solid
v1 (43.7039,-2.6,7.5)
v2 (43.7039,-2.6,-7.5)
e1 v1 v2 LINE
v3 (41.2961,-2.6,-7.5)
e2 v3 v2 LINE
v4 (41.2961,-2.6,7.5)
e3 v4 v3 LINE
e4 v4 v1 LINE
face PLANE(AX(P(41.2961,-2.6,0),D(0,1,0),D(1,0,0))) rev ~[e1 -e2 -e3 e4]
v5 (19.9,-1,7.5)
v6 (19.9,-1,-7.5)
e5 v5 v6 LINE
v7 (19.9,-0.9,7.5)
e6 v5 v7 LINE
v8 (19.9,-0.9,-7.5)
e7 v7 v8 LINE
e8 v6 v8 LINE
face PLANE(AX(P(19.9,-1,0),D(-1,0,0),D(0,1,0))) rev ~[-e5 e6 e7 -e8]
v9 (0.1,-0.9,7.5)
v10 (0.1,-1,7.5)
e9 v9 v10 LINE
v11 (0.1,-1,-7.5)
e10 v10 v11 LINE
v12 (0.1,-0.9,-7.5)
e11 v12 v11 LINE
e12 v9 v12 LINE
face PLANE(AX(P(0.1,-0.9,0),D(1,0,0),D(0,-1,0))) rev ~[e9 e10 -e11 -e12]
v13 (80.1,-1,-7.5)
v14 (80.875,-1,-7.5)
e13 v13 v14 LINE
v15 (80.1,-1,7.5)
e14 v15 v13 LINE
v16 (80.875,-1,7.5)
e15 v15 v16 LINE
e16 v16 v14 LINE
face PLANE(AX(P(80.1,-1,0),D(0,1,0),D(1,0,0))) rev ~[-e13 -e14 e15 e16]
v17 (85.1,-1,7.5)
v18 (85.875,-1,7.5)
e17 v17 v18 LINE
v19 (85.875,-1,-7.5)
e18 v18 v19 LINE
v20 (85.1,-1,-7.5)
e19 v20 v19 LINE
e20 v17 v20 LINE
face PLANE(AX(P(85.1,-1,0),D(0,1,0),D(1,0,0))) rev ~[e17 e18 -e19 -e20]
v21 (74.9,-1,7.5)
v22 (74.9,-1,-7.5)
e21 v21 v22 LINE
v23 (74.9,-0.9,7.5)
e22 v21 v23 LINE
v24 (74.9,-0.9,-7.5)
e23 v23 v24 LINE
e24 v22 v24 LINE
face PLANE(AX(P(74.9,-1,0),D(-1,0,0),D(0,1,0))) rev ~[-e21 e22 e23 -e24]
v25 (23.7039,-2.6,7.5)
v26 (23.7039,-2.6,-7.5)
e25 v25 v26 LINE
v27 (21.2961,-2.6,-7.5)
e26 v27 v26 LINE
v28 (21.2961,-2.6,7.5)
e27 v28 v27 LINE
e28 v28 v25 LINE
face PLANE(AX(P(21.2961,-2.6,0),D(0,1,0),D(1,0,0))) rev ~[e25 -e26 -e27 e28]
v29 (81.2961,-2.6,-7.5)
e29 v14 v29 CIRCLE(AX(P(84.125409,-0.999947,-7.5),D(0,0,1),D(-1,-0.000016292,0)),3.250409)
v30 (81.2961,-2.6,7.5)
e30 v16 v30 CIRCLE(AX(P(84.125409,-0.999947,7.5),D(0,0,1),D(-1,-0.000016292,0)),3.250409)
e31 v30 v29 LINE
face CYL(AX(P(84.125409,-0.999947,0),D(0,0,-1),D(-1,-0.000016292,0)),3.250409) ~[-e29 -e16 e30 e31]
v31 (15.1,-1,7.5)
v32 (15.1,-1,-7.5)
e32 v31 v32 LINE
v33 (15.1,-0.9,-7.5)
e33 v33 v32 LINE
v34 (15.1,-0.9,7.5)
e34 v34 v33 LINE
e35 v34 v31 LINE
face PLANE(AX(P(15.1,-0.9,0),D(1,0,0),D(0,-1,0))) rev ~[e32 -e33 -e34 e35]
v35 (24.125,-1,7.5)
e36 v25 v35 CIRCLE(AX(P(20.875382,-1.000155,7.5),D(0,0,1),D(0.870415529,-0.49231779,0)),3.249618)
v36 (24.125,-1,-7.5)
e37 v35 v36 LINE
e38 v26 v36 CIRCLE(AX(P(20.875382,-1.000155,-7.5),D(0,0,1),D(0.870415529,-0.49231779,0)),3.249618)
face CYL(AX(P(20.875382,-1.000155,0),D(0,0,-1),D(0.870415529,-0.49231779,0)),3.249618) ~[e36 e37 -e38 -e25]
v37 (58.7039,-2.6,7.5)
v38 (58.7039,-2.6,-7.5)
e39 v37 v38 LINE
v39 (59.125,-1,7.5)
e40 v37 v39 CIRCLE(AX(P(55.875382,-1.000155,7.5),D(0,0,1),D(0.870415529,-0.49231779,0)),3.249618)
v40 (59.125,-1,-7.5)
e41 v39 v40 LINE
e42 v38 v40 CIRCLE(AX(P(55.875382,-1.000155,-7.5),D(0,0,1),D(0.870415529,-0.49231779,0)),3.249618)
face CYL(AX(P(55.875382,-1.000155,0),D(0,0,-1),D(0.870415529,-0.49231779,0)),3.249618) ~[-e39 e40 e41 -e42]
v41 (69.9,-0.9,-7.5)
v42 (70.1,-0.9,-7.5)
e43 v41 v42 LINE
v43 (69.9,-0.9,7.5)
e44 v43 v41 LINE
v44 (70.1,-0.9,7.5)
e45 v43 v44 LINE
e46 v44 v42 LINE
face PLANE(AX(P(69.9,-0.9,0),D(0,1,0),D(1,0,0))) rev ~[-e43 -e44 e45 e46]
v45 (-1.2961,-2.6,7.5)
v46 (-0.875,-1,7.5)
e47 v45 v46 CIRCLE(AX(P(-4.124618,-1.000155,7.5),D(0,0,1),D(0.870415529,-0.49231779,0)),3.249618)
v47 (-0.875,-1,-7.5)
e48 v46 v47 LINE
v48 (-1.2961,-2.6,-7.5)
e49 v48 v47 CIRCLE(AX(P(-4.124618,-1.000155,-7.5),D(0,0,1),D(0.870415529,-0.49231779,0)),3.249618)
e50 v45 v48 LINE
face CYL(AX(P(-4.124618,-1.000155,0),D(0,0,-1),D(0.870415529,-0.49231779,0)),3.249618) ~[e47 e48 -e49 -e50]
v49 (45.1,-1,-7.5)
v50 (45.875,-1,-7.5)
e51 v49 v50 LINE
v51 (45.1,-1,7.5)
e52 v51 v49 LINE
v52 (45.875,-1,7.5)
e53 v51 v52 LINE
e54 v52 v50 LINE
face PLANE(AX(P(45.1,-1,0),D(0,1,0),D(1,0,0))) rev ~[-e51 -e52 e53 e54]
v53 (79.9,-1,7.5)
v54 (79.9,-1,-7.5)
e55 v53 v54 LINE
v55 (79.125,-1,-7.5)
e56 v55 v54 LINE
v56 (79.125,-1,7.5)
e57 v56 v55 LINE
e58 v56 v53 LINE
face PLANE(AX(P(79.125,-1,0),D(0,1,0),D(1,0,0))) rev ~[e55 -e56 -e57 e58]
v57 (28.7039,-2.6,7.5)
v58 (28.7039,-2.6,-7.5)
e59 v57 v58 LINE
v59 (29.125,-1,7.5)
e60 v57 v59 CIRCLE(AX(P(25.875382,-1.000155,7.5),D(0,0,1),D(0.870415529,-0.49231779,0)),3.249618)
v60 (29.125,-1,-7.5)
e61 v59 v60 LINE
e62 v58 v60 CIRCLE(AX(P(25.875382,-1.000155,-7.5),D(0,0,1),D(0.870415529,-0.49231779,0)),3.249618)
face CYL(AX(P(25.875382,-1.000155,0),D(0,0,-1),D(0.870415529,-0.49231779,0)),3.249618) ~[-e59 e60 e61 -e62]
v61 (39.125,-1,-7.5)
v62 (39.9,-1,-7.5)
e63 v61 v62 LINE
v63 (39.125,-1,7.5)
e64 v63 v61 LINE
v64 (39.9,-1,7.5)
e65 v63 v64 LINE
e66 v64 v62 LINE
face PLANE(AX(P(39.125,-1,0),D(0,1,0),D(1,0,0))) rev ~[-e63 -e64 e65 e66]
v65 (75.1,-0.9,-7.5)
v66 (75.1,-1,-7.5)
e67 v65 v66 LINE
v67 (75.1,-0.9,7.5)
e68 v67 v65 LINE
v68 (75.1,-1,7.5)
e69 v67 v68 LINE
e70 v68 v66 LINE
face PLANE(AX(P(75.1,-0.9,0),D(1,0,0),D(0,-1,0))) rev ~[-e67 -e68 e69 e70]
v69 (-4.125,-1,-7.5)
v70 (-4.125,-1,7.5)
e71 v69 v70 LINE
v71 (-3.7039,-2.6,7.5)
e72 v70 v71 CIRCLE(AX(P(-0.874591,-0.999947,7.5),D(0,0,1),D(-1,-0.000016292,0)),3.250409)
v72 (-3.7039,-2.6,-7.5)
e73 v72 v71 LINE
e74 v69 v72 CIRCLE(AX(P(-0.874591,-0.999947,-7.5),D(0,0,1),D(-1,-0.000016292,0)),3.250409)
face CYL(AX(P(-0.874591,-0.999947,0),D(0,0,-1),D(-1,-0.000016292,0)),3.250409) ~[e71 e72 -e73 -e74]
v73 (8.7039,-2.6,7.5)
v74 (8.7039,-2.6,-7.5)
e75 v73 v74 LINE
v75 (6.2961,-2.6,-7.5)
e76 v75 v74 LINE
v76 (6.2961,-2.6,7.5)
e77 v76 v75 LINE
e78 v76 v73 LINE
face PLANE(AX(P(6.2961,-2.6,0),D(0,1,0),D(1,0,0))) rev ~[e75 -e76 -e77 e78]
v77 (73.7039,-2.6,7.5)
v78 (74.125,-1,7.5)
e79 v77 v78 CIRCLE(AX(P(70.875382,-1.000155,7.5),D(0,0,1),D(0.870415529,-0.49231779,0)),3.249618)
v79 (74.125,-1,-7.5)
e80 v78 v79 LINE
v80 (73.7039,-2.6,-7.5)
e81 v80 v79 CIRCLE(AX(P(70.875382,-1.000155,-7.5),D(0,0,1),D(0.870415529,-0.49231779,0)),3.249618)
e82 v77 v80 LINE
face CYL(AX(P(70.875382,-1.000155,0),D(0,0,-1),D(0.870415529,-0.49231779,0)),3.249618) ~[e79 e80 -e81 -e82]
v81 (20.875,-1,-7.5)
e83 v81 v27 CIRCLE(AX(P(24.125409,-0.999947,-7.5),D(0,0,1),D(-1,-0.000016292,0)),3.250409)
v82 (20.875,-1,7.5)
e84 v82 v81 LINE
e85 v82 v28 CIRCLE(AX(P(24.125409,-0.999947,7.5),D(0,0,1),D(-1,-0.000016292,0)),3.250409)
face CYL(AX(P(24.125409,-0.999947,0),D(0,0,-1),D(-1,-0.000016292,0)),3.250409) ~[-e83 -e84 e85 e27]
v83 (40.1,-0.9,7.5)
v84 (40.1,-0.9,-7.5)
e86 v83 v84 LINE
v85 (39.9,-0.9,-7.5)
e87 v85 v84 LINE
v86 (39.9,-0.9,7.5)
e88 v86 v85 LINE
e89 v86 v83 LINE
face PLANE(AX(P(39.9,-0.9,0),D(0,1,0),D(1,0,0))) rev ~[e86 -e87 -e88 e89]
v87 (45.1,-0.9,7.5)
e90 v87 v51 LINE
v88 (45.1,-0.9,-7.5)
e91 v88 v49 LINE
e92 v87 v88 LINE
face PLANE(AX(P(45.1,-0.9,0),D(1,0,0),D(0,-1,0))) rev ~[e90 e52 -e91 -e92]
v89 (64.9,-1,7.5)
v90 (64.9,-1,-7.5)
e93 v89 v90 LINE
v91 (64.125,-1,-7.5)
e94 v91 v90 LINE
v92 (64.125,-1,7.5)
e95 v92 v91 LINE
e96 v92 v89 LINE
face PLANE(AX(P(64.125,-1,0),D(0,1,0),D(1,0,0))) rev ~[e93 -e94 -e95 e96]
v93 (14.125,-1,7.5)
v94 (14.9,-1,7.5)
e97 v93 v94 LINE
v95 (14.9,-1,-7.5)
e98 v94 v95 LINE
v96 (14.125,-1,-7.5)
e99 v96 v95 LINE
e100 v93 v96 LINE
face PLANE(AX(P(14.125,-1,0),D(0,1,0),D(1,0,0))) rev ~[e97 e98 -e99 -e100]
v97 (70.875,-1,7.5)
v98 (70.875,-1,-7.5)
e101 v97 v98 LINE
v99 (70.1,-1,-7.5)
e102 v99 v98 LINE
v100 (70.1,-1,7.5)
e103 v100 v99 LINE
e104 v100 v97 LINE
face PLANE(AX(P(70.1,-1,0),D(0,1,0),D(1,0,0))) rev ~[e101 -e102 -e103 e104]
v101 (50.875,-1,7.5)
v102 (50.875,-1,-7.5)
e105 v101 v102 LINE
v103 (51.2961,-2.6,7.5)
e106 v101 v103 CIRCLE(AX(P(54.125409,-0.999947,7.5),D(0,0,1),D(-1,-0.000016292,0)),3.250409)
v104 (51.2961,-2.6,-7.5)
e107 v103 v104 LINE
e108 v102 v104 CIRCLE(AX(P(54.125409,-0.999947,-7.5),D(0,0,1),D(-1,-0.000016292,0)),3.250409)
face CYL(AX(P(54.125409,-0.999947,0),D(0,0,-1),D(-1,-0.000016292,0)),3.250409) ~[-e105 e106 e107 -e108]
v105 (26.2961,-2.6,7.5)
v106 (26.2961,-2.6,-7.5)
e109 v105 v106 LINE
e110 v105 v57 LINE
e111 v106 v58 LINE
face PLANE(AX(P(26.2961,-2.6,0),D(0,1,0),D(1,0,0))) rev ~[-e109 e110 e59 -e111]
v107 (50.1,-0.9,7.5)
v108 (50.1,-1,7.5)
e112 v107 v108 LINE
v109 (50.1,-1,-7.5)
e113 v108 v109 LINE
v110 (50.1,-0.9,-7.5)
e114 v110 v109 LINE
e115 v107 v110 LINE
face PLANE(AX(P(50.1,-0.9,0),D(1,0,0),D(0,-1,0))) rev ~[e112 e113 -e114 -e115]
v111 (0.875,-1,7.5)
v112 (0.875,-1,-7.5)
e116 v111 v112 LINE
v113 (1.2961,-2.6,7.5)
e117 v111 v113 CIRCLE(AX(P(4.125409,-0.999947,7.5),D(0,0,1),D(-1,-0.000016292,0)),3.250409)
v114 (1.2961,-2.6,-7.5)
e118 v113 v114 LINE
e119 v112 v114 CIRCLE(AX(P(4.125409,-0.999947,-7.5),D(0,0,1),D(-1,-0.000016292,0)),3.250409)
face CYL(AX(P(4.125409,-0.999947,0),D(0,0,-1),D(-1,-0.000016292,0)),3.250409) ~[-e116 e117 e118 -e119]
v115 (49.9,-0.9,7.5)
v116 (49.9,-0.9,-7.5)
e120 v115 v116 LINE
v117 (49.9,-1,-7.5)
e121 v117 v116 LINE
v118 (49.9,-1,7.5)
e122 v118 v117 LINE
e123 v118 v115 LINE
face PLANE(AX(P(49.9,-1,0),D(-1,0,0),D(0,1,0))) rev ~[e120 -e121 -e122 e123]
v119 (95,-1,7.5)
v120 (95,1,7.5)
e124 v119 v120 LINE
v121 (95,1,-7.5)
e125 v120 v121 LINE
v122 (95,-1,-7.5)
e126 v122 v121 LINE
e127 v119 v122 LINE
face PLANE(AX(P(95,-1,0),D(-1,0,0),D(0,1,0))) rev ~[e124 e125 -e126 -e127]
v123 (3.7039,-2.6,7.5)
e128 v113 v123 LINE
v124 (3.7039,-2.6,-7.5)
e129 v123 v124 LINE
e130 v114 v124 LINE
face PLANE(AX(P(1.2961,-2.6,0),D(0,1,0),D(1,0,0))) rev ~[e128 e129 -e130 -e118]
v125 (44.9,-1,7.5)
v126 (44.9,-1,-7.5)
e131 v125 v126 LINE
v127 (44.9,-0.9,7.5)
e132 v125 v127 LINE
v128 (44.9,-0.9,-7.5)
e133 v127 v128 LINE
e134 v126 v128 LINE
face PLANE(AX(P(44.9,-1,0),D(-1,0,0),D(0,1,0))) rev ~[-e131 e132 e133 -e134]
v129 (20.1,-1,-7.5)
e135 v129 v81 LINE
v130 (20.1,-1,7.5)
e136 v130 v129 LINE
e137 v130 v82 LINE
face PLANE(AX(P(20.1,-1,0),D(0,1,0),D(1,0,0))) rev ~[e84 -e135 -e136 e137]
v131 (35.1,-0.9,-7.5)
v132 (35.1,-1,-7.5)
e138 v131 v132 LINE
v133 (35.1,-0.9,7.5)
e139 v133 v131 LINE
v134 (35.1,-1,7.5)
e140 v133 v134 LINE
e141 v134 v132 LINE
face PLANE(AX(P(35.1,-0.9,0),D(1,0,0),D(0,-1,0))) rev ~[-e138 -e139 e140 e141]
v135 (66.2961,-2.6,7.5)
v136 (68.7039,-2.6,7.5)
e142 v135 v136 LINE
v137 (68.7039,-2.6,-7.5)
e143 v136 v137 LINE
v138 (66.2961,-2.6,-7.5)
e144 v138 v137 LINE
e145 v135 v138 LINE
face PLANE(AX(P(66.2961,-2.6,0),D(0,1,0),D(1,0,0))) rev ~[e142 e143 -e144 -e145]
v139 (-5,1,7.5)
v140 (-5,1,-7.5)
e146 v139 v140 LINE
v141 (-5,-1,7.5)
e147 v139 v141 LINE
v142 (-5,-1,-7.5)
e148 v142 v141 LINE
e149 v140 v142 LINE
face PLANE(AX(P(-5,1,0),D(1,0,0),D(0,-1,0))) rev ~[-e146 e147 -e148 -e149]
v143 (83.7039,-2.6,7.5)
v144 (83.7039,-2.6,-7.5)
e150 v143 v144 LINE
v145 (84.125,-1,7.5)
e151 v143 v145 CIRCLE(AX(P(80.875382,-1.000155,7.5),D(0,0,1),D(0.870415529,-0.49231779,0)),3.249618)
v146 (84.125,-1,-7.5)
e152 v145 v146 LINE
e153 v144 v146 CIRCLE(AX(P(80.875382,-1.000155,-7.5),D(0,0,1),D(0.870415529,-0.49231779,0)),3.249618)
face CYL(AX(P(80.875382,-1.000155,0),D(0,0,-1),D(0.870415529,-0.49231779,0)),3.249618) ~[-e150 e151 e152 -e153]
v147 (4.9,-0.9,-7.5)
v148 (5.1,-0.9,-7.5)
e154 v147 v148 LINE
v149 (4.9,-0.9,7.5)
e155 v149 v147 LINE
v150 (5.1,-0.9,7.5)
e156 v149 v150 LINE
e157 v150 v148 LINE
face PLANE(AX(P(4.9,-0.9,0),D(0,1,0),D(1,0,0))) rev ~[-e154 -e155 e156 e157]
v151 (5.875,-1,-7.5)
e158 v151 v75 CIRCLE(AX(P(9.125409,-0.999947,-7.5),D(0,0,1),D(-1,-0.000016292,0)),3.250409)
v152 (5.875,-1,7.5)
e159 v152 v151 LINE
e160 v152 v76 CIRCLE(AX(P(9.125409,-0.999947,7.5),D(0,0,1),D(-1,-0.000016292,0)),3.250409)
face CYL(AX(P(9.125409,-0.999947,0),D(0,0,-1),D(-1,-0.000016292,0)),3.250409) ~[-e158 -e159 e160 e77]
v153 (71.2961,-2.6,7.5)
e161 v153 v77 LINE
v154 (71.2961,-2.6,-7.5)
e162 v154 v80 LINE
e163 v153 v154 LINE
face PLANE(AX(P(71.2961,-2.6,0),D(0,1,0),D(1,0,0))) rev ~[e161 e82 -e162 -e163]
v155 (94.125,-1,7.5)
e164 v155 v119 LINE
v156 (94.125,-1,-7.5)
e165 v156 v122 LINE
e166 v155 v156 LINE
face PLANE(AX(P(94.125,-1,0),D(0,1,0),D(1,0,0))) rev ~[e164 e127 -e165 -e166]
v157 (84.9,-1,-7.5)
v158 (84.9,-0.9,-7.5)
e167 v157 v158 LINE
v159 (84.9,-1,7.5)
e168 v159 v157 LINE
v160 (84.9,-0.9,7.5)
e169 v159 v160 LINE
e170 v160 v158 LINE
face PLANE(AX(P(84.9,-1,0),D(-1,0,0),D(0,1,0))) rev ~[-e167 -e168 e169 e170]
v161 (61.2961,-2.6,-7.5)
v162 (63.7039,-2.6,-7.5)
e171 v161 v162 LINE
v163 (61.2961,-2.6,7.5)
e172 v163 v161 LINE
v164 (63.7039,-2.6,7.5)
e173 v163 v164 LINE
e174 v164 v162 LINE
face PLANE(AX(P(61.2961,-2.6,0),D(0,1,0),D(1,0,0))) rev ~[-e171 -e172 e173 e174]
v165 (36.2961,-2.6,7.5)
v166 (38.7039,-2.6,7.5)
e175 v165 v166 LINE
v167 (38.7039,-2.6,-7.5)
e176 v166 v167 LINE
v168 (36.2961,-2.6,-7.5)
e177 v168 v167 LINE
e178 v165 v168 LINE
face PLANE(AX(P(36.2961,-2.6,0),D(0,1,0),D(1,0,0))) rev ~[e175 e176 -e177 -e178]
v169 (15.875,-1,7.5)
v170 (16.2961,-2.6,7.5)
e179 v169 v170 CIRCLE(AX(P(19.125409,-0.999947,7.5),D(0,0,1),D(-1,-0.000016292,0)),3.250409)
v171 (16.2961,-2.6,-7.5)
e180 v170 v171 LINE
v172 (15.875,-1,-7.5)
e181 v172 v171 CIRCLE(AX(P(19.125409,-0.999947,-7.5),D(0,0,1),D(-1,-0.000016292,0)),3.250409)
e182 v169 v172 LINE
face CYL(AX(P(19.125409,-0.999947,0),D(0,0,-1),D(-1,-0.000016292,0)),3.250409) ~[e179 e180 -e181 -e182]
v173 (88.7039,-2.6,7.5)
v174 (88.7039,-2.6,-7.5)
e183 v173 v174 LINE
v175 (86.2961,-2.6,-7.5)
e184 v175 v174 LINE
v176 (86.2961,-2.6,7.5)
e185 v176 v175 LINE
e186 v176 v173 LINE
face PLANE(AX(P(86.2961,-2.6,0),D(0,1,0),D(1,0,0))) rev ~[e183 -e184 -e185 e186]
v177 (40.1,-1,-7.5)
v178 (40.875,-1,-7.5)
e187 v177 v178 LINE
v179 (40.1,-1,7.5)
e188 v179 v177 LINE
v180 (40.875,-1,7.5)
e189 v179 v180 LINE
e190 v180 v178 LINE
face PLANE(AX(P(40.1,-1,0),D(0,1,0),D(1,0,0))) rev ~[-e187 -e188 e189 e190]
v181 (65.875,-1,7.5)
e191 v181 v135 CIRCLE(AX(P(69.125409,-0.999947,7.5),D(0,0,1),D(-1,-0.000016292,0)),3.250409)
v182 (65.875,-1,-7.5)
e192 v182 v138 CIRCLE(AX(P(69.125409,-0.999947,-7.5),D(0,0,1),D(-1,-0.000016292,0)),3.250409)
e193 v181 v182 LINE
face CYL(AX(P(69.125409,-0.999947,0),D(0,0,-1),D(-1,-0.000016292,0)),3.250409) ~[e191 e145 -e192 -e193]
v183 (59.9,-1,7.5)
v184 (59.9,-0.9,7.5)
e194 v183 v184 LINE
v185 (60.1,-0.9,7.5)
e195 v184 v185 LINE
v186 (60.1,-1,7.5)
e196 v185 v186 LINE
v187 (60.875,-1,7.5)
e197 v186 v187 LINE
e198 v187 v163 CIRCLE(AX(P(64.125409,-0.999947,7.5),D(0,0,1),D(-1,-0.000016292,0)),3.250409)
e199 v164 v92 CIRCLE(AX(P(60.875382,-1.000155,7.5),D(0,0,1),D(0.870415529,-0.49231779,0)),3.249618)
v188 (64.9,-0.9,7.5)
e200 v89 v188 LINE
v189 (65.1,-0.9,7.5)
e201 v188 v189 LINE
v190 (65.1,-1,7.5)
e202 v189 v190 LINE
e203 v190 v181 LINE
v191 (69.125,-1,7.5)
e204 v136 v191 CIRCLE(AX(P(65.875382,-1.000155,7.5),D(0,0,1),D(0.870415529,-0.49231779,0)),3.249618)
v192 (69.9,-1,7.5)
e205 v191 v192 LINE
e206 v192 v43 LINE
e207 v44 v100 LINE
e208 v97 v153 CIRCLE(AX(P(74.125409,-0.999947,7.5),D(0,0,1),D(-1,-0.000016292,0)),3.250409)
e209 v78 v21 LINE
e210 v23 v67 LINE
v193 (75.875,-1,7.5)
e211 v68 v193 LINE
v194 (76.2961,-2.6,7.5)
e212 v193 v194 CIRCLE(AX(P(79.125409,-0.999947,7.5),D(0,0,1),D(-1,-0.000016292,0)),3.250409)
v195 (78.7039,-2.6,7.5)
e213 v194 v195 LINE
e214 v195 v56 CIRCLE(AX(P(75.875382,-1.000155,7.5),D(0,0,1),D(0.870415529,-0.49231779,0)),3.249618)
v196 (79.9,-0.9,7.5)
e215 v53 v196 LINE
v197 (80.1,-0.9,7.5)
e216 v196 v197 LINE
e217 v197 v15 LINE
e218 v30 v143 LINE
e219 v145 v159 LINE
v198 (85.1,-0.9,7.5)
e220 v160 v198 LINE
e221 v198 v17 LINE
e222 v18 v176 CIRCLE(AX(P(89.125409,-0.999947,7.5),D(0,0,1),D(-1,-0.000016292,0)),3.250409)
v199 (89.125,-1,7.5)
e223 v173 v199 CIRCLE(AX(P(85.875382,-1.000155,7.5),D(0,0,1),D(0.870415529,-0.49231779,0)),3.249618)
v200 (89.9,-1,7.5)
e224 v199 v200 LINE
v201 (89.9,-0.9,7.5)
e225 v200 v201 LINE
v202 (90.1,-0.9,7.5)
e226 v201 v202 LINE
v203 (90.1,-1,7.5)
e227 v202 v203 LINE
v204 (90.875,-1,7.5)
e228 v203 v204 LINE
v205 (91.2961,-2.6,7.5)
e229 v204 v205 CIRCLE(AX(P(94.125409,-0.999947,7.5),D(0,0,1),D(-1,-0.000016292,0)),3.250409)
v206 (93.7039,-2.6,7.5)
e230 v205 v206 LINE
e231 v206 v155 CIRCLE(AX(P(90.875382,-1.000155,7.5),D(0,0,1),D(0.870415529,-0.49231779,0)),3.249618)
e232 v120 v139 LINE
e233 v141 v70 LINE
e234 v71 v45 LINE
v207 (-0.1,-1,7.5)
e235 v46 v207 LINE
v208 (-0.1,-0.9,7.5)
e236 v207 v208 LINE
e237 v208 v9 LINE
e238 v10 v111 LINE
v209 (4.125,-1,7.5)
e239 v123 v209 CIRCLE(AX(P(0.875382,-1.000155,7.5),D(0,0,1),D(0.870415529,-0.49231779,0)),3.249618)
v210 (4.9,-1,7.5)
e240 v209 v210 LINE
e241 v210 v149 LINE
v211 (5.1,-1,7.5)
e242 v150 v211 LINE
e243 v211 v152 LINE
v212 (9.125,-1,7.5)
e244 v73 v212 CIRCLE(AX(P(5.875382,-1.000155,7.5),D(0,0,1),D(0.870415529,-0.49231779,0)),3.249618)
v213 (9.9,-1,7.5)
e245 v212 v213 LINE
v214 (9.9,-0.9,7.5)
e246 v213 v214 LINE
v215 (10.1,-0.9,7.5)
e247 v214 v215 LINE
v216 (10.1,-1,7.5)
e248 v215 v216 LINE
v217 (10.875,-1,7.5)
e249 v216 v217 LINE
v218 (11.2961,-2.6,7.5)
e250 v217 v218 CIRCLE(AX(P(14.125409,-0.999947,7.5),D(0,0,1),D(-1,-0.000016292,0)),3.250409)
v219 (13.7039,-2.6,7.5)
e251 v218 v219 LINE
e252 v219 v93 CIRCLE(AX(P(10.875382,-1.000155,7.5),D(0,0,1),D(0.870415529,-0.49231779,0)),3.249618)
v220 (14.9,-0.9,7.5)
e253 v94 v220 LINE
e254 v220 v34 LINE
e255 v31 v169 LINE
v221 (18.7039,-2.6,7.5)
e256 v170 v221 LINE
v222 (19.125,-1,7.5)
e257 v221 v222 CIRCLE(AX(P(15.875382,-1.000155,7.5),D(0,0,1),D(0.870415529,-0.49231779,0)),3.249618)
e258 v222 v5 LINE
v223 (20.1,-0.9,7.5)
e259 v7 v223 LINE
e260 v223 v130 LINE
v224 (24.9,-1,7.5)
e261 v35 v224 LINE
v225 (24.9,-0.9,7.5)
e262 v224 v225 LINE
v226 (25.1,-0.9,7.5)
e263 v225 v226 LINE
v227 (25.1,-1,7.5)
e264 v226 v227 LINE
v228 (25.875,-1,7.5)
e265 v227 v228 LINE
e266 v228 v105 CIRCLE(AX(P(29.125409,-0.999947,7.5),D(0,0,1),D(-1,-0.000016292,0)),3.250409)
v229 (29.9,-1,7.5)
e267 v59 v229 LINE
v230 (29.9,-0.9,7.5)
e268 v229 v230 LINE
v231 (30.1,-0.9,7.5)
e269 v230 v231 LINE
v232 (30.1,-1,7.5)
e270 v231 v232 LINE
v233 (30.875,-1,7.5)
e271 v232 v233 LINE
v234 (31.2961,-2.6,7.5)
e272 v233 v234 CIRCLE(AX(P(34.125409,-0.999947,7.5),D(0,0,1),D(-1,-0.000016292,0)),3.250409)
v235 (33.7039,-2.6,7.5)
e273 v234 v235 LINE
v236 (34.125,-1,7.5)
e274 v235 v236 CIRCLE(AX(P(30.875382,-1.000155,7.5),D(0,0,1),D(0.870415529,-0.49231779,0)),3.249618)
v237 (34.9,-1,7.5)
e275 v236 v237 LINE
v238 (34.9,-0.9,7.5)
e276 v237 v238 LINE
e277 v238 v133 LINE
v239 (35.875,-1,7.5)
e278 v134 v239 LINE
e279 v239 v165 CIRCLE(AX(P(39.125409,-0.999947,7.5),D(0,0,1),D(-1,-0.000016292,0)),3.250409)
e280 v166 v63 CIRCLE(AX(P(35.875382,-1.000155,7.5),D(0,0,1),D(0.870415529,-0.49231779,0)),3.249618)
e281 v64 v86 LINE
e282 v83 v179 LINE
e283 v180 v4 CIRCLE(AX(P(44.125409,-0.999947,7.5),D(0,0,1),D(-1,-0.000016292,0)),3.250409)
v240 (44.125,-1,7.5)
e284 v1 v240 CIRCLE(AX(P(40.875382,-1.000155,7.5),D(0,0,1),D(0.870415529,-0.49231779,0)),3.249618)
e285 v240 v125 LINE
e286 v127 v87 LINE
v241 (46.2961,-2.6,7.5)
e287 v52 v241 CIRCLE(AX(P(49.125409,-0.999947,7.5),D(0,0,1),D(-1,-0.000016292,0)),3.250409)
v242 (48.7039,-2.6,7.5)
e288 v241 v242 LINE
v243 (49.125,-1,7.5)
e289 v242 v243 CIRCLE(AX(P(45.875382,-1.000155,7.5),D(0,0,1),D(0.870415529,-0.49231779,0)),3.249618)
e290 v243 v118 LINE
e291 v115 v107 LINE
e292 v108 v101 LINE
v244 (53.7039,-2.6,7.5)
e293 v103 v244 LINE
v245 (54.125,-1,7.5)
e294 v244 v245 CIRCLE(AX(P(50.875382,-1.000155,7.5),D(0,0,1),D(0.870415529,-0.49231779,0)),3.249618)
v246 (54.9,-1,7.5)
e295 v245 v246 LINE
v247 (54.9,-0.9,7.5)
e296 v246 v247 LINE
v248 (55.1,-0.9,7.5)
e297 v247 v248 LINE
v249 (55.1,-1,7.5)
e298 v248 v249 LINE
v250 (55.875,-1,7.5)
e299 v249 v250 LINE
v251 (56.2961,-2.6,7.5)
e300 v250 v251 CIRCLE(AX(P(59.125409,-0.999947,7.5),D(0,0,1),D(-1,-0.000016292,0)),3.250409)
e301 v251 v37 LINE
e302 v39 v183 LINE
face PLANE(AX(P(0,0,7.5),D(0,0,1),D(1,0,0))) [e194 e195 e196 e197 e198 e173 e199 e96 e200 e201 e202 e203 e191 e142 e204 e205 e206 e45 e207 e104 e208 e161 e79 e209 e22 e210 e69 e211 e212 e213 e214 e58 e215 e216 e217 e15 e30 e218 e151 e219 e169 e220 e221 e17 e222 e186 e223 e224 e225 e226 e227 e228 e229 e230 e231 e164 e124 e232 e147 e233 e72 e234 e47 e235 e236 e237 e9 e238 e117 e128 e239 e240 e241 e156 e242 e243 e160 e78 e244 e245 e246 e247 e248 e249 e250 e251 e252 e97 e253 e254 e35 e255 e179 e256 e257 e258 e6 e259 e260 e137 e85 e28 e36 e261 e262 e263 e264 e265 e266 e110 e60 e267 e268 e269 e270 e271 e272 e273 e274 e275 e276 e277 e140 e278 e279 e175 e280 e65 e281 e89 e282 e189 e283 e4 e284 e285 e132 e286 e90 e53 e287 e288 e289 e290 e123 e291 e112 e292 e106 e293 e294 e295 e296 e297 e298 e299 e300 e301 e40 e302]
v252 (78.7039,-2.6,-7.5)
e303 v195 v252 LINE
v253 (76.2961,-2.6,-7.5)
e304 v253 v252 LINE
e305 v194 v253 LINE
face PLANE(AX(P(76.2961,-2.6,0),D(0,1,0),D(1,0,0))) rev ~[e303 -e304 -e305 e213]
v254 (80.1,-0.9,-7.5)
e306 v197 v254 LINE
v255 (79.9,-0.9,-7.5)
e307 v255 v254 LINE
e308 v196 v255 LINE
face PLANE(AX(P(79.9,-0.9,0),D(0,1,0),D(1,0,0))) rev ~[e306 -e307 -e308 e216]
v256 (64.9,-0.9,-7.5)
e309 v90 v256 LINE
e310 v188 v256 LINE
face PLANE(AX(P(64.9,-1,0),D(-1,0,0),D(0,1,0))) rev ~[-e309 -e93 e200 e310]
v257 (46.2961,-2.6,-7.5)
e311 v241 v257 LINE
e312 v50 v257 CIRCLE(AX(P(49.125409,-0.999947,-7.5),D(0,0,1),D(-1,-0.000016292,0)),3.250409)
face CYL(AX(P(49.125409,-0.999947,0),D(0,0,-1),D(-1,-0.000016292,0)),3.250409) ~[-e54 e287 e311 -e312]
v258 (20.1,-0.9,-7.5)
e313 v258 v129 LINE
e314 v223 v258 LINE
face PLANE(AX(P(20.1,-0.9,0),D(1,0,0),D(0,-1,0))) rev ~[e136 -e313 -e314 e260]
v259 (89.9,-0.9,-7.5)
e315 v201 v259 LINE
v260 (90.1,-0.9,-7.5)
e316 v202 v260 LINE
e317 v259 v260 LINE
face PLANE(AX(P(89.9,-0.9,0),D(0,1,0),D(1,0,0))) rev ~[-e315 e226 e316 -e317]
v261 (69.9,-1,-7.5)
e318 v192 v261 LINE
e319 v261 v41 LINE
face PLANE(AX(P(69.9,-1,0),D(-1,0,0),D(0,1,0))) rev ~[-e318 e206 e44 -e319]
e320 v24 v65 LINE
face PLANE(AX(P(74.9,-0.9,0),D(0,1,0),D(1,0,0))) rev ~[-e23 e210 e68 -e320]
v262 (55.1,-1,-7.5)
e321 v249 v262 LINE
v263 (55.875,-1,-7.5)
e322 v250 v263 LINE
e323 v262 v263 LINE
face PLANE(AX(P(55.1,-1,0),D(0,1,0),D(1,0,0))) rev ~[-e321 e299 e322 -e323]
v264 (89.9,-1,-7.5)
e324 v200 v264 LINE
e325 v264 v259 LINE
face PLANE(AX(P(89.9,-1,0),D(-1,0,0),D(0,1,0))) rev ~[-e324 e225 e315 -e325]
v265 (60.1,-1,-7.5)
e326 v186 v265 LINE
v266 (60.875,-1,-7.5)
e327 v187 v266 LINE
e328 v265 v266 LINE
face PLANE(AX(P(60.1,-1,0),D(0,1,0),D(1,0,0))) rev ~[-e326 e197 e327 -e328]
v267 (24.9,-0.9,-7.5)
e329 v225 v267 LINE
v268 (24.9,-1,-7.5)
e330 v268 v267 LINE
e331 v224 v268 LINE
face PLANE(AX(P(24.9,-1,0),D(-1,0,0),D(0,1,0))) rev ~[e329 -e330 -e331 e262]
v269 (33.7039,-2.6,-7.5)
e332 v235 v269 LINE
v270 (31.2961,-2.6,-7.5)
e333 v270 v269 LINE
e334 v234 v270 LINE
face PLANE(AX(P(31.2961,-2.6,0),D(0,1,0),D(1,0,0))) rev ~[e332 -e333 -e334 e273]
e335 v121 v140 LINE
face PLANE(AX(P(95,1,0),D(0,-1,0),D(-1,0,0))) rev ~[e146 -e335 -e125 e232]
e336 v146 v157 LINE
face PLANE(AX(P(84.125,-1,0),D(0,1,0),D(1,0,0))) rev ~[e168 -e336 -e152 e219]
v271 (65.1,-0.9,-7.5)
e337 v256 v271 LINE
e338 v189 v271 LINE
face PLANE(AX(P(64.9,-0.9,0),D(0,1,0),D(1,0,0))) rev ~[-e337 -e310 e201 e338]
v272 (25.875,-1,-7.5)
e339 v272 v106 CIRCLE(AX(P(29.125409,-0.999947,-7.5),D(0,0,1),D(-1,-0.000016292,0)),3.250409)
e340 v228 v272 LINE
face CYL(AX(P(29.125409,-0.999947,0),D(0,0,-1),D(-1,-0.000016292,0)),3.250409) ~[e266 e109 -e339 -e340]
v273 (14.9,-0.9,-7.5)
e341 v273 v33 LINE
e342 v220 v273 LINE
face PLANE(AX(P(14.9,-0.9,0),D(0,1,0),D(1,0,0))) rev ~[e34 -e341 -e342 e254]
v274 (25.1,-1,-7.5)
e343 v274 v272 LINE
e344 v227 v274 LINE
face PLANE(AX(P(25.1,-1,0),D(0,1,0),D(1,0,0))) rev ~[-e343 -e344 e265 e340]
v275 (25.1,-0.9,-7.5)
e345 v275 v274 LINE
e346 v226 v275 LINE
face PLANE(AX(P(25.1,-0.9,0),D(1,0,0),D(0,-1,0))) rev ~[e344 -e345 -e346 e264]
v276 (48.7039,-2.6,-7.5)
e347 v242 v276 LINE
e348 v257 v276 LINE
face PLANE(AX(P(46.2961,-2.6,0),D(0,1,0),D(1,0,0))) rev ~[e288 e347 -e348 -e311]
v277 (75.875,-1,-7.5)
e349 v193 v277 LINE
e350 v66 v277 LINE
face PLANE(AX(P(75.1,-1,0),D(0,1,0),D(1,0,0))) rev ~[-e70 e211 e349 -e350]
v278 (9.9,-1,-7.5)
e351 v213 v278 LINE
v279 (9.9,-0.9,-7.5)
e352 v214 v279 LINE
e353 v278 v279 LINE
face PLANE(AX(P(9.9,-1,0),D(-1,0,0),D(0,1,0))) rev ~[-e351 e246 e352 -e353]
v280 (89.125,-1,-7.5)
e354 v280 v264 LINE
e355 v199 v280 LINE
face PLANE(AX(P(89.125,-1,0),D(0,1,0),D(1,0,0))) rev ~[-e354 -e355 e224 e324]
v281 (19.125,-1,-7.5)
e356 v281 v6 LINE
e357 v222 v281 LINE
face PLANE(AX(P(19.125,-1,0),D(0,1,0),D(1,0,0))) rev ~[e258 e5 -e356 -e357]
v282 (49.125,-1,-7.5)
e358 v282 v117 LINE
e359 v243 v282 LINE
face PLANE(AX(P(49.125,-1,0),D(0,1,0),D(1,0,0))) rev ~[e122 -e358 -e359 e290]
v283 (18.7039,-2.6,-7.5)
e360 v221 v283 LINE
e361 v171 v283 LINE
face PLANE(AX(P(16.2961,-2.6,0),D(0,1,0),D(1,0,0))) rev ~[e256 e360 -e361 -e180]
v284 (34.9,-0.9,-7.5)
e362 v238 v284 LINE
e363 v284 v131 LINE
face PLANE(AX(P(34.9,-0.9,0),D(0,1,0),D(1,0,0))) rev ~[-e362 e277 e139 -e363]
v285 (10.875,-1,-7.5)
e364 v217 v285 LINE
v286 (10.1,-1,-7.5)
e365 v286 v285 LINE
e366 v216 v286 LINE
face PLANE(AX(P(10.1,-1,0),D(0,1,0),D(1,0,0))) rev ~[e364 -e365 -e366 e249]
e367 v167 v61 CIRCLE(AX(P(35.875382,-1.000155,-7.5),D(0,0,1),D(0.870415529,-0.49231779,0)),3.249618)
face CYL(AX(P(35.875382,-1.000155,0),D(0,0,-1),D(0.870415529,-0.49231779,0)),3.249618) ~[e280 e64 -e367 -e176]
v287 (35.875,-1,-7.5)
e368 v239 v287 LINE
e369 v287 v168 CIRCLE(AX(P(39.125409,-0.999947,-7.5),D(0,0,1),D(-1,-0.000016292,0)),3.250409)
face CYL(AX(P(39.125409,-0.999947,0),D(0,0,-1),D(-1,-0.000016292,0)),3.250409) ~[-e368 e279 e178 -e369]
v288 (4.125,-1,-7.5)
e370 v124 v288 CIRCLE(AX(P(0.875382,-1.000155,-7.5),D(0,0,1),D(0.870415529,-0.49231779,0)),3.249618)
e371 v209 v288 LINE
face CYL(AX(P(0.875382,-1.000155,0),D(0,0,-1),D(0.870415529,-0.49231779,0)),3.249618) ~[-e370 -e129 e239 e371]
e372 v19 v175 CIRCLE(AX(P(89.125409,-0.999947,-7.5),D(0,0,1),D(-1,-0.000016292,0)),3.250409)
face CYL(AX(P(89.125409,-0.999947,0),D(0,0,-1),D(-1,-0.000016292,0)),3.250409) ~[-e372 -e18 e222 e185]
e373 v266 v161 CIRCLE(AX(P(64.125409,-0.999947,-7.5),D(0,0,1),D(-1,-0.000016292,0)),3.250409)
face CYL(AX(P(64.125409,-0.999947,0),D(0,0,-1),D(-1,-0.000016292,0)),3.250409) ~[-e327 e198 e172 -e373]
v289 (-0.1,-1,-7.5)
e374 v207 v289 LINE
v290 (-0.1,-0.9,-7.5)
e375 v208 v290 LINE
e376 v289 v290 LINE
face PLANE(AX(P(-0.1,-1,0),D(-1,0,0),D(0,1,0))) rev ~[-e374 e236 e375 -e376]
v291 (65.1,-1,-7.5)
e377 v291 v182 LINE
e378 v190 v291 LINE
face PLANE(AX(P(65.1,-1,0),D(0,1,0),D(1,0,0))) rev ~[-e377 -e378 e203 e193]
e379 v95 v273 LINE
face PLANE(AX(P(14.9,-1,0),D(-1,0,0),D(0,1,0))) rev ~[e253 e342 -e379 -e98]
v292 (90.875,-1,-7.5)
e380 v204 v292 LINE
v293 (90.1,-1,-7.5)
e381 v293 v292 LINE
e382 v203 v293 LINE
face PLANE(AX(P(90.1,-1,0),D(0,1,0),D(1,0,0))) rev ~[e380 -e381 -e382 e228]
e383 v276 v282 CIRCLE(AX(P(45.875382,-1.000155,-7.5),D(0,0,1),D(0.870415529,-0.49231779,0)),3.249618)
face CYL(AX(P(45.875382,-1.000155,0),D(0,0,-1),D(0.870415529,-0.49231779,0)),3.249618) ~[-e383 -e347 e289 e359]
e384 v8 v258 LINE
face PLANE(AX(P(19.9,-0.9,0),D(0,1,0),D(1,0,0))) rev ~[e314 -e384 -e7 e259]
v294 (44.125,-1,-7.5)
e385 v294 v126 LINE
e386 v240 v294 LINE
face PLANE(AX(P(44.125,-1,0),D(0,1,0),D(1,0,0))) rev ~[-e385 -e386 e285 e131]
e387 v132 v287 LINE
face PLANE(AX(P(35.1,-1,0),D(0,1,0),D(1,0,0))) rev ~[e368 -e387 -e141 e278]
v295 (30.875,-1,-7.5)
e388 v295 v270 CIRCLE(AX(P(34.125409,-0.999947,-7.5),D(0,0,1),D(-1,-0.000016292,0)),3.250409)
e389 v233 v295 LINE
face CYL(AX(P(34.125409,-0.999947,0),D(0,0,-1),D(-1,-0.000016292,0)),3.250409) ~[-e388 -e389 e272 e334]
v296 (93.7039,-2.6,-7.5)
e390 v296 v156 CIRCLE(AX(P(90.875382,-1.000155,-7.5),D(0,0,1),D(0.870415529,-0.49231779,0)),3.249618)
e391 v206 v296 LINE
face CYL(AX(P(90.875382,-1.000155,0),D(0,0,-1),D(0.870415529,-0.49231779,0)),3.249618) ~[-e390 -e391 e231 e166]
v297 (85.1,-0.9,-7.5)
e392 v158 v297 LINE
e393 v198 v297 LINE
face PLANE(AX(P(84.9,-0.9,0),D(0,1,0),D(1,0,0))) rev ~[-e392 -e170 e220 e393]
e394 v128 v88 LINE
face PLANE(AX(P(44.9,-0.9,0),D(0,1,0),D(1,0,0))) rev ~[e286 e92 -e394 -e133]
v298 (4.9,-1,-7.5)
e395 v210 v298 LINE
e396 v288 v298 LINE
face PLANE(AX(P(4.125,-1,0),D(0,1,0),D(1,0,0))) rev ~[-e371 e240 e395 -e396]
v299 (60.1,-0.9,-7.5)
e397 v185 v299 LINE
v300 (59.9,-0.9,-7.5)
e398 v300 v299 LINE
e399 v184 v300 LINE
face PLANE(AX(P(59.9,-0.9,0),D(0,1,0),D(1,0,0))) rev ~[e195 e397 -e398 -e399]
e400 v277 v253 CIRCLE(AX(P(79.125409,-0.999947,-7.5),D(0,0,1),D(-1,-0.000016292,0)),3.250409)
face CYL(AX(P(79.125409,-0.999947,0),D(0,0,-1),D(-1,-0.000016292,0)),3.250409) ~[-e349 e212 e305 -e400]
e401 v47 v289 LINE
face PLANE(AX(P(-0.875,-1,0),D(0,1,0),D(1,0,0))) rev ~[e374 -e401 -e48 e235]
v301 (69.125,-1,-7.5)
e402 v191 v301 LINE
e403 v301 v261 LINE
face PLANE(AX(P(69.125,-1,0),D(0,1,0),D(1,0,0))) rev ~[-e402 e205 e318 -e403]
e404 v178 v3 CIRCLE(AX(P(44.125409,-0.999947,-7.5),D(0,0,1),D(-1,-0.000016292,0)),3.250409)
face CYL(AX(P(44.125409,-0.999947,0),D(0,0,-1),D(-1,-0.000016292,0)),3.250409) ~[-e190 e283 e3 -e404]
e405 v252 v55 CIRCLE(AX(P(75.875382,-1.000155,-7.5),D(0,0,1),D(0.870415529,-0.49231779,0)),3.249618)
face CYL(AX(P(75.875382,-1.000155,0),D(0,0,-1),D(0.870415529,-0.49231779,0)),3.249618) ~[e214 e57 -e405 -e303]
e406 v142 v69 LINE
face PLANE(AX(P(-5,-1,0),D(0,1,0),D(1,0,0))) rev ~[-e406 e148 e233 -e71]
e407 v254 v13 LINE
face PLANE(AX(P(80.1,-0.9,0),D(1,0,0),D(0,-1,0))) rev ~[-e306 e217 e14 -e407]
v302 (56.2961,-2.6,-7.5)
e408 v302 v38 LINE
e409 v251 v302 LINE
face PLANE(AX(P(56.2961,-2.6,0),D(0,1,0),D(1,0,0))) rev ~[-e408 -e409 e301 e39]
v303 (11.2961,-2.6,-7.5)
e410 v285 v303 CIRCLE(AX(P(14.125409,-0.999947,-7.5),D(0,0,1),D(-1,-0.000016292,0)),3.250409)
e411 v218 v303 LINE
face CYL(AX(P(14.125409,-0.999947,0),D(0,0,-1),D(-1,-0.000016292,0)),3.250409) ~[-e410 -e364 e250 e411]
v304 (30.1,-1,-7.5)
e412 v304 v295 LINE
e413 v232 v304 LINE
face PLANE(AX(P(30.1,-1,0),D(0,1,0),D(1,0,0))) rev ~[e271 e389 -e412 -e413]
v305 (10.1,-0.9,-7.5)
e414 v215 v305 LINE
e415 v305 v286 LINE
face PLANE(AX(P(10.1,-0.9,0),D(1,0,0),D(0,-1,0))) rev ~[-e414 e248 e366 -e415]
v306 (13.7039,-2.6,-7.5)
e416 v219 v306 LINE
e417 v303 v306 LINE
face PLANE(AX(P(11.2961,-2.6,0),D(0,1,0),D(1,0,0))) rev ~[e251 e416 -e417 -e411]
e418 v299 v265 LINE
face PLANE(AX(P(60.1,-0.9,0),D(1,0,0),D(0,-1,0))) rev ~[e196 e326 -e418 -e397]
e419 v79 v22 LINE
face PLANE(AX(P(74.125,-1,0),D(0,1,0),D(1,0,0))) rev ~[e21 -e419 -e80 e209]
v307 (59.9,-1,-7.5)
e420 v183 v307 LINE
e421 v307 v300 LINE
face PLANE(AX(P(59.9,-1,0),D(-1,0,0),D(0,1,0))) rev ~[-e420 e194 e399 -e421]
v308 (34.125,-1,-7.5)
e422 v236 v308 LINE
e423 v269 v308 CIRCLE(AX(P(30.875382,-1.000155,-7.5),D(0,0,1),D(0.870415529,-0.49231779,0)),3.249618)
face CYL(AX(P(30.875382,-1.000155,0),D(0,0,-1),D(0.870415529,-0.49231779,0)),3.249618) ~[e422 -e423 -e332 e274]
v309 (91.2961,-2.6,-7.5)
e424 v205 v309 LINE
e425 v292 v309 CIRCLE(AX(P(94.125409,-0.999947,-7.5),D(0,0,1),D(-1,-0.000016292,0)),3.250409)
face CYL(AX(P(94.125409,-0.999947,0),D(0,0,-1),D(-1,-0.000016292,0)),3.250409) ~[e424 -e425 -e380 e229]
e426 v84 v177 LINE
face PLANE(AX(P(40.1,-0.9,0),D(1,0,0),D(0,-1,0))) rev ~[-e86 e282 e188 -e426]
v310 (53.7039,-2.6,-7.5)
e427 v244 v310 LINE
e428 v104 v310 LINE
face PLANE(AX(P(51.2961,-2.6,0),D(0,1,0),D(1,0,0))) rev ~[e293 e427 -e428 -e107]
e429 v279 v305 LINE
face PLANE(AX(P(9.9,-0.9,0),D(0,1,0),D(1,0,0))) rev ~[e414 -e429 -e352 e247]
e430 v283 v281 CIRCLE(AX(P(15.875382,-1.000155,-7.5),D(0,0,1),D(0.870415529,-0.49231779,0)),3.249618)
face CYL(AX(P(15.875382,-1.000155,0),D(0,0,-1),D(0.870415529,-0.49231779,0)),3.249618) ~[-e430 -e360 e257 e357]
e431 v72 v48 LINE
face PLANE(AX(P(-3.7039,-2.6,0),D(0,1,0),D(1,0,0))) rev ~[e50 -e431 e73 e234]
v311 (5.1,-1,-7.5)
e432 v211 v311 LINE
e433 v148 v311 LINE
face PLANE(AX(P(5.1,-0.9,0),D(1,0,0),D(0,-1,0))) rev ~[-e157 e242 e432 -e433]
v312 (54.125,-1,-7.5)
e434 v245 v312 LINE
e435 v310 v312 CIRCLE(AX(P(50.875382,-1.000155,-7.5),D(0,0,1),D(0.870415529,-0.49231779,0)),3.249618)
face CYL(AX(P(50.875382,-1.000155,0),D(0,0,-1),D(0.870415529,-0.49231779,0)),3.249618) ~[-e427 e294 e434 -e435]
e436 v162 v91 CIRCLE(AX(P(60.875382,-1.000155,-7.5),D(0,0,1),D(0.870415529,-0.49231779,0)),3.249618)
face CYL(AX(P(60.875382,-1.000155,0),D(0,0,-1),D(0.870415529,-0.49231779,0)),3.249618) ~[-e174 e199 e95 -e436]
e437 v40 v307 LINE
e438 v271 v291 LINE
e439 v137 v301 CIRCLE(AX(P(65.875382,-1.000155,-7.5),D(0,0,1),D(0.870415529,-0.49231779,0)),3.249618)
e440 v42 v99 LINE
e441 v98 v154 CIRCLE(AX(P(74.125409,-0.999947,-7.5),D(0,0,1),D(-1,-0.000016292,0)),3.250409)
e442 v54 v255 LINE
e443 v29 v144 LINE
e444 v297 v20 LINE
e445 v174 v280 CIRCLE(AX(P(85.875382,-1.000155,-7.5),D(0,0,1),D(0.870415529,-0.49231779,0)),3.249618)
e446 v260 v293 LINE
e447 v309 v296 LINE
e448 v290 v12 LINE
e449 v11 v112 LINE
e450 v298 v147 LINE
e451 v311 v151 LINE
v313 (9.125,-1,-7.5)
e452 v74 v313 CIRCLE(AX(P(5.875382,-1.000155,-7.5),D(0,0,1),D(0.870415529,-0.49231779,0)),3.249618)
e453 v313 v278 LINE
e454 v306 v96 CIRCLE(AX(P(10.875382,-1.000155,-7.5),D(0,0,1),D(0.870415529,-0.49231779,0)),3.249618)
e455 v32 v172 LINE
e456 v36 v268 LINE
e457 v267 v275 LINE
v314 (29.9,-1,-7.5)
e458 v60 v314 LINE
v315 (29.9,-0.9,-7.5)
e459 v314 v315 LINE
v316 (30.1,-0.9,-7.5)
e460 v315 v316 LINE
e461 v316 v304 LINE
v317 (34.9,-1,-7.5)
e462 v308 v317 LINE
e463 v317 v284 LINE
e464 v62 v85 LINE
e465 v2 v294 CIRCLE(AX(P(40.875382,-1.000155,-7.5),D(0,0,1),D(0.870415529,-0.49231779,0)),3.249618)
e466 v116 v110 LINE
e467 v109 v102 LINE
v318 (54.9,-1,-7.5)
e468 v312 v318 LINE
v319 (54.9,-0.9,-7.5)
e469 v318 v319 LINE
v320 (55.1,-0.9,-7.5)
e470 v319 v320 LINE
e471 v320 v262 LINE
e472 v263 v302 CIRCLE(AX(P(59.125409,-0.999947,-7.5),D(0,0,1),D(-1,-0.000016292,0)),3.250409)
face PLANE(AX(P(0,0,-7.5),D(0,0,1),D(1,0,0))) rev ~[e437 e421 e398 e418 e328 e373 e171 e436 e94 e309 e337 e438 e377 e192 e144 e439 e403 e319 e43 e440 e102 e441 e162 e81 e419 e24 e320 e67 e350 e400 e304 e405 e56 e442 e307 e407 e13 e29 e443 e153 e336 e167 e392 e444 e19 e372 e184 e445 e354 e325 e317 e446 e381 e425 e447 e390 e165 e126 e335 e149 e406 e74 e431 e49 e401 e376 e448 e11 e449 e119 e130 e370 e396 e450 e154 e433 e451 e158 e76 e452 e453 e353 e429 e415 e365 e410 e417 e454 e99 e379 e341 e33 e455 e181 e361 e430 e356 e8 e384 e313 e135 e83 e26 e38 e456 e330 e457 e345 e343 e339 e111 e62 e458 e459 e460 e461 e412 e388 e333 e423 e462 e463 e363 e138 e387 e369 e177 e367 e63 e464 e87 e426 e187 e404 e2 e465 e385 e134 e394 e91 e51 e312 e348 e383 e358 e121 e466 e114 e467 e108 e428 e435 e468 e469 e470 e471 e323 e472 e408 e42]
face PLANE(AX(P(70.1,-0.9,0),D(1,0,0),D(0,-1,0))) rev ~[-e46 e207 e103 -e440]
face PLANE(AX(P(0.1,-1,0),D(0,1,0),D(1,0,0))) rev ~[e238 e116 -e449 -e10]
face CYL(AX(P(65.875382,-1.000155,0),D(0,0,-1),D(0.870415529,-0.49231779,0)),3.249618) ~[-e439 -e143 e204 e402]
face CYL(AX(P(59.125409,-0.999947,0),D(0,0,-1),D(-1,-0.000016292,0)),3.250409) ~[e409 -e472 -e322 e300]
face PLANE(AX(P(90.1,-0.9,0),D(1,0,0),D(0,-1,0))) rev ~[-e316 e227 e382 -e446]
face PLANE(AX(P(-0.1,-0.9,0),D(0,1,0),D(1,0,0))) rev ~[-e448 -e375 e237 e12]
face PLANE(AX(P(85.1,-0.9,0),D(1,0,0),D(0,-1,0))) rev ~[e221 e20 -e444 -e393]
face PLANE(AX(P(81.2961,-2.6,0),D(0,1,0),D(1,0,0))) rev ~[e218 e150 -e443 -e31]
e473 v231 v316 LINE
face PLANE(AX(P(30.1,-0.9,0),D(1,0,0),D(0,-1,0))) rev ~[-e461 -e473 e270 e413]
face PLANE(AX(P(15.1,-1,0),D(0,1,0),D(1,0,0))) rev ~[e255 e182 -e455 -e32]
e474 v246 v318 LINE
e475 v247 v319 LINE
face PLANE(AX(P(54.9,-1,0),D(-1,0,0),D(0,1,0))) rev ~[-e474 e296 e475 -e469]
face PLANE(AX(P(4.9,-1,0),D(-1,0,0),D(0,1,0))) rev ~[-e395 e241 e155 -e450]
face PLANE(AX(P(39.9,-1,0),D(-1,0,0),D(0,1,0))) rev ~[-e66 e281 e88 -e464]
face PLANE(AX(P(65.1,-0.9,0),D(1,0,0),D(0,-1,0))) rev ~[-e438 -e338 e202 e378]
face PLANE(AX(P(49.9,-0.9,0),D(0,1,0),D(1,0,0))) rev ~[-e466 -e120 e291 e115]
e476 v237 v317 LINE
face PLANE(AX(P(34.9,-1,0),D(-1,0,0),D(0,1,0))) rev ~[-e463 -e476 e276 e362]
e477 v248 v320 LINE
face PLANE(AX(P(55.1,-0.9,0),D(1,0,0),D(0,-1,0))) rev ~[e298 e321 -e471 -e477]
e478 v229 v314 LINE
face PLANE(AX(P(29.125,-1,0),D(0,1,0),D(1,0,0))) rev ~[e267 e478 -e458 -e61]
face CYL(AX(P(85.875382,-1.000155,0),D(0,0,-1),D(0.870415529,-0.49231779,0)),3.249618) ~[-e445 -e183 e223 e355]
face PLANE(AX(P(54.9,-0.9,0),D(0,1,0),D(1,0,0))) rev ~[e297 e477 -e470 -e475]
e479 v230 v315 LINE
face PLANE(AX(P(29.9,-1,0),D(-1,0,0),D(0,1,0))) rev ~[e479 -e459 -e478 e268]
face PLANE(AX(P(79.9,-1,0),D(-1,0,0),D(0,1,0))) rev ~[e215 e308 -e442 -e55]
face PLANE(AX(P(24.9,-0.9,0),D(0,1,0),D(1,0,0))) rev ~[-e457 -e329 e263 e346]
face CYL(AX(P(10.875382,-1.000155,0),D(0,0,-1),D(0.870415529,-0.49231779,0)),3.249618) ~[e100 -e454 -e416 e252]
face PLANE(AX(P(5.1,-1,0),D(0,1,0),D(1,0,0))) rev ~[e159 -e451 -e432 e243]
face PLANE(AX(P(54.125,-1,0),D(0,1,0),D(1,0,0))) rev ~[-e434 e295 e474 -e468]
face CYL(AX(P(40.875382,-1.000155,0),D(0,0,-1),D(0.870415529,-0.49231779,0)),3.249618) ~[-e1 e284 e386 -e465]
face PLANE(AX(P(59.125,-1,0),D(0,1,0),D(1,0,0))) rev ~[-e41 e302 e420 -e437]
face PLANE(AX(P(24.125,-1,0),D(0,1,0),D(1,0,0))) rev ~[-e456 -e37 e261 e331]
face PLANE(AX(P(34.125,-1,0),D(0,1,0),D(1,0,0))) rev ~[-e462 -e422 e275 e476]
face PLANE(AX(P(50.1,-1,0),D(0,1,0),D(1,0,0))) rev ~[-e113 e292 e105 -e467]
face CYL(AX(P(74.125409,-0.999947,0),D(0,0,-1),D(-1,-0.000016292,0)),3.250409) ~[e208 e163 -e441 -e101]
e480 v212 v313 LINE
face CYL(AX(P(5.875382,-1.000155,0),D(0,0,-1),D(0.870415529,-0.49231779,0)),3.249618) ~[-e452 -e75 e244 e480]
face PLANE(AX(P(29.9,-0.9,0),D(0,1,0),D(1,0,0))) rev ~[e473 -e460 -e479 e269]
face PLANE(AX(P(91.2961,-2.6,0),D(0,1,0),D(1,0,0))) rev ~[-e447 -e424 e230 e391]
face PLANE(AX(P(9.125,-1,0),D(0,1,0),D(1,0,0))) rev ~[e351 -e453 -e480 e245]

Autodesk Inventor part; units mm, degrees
ref_plane "YZ Plane" through (0, 0, 0) normal (1, 0, 0) x (0, 1, 0)
ref_plane "XZ Plane" through (0, 0, 0) normal (0, 1, 0) x (-1, 0, 0)
ref_plane "XY Plane" through (0, 0, 0) normal (0, 0, 1) x (1, 0, 0)
sketch "Sketch_1" plane through (0, 0, 0) normal (0, 0, 1) x (1, 0, 0)
  line L0 (-5, -1) -> (-4.125, -1)
  arc A0 (-4.125, -1) -> (-3.7039, -2.6) centre (-0.875, -1) ccw
  line L1 (-3.7039, -2.6) -> (-1.2961, -2.6)
  arc A1 (-1.2961, -2.6) -> (-0.875, -1) centre (-4.125, -1) ccw
  line L2 (-0.875, -1) -> (-0.1, -1)
  line L3 (-0.1, -1) -> (-0.1, -0.9)
  line L4 (-0.1, -0.9) -> (0.1, -0.9)
  line L5 (0.1, -0.9) -> (0.1, -1)
  line L6 (0.1, -1) -> (0.875, -1)
  arc A2 (0.875, -1) -> (1.2961, -2.6) centre (4.125, -1) ccw
  line L7 (1.2961, -2.6) -> (3.7039, -2.6)
  arc A3 (3.7039, -2.6) -> (4.125, -1) centre (0.875, -1) ccw
  line L8 (4.125, -1) -> (4.9, -1)
  line L9 (4.9, -1) -> (4.9, -0.9)
  line L10 (4.9, -0.9) -> (5.1, -0.9)
  line L11 (5.1, -0.9) -> (5.1, -1)
  line L12 (5.1, -1) -> (5.875, -1)
  arc A4 (5.875, -1) -> (6.2961, -2.6) centre (9.125, -1) ccw
  line L13 (6.2961, -2.6) -> (8.7039, -2.6)
  arc A5 (8.7039, -2.6) -> (9.125, -1) centre (5.875, -1) ccw
  line L14 (9.125, -1) -> (9.9, -1)
  line L15 (9.9, -1) -> (9.9, -0.9)
  line L16 (9.9, -0.9) -> (10.1, -0.9)
  line L17 (10.1, -0.9) -> (10.1, -1)
  line L18 (10.1, -1) -> (10.875, -1)
  arc A6 (10.875, -1) -> (11.2961, -2.6) centre (14.125, -1) ccw
  line L19 (11.2961, -2.6) -> (13.7039, -2.6)
  arc A7 (13.7039, -2.6) -> (14.125, -1) centre (10.875, -1) ccw
  line L20 (14.125, -1) -> (14.9, -1)
  line L21 (14.9, -1) -> (14.9, -0.9)
  line L22 (14.9, -0.9) -> (15.1, -0.9)
  line L23 (15.1, -0.9) -> (15.1, -1)
  line L24 (15.1, -1) -> (15.875, -1)
  arc A8 (15.875, -1) -> (16.2961, -2.6) centre (19.125, -1) ccw
  line L25 (16.2961, -2.6) -> (18.7039, -2.6)
  arc A9 (18.7039, -2.6) -> (19.125, -1) centre (15.875, -1) ccw
  line L26 (19.125, -1) -> (19.9, -1)
  line L27 (19.9, -1) -> (19.9, -0.9)
  line L28 (19.9, -0.9) -> (20.1, -0.9)
  line L29 (20.1, -0.9) -> (20.1, -1)
  line L30 (20.1, -1) -> (20.875, -1)
  arc A10 (20.875, -1) -> (21.2961, -2.6) centre (24.125, -1) ccw
  line L31 (21.2961, -2.6) -> (23.7039, -2.6)
  arc A11 (23.7039, -2.6) -> (24.125, -1) centre (20.875, -1) ccw
  line L32 (24.125, -1) -> (24.9, -1)
  line L33 (24.9, -1) -> (24.9, -0.9)
  line L34 (24.9, -0.9) -> (25.1, -0.9)
  line L35 (25.1, -0.9) -> (25.1, -1)
  line L36 (25.1, -1) -> (25.875, -1)
  arc A12 (25.875, -1) -> (26.2961, -2.6) centre (29.125, -1) ccw
  line L37 (26.2961, -2.6) -> (28.7039, -2.6)
  arc A13 (28.7039, -2.6) -> (29.125, -1) centre (25.875, -1) ccw
  line L38 (29.125, -1) -> (29.9, -1)
  line L39 (29.9, -1) -> (29.9, -0.9)
  line L40 (29.9, -0.9) -> (30.1, -0.9)
  line L41 (30.1, -0.9) -> (30.1, -1)
  line L42 (30.1, -1) -> (30.875, -1)
  arc A14 (30.875, -1) -> (31.2961, -2.6) centre (34.125, -1) ccw
  line L43 (31.2961, -2.6) -> (33.7039, -2.6)
  arc A15 (33.7039, -2.6) -> (34.125, -1) centre (30.875, -1) ccw
  line L44 (34.125, -1) -> (34.9, -1)
  line L45 (34.9, -1) -> (34.9, -0.9)
  line L46 (34.9, -0.9) -> (35.1, -0.9)
  line L47 (35.1, -0.9) -> (35.1, -1)
  line L48 (35.1, -1) -> (35.875, -1)
  arc A16 (35.875, -1) -> (36.2961, -2.6) centre (39.125, -1) ccw
  line L49 (36.2961, -2.6) -> (38.7039, -2.6)
  arc A17 (38.7039, -2.6) -> (39.125, -1) centre (35.875, -1) ccw
  line L50 (39.125, -1) -> (39.9, -1)
  line L51 (39.9, -1) -> (39.9, -0.9)
  line L52 (39.9, -0.9) -> (40.1, -0.9)
  line L53 (40.1, -0.9) -> (40.1, -1)
  line L54 (40.1, -1) -> (40.875, -1)
  arc A18 (40.875, -1) -> (41.2961, -2.6) centre (44.125, -1) ccw
  line L55 (41.2961, -2.6) -> (43.7039, -2.6)
  arc A19 (43.7039, -2.6) -> (44.125, -1) centre (40.875, -1) ccw
  line L56 (44.125, -1) -> (44.9, -1)
  line L57 (44.9, -1) -> (44.9, -0.9)
  line L58 (44.9, -0.9) -> (45.1, -0.9)
  line L59 (45.1, -0.9) -> (45.1, -1)
  line L60 (45.1, -1) -> (45.875, -1)
  arc A20 (45.875, -1) -> (46.2961, -2.6) centre (49.125, -1) ccw
  line L61 (46.2961, -2.6) -> (48.7039, -2.6)
  arc A21 (48.7039, -2.6) -> (49.125, -1) centre (45.875, -1) ccw
  line L62 (49.125, -1) -> (49.9, -1)
  line L63 (49.9, -1) -> (49.9, -0.9)
  line L64 (49.9, -0.9) -> (50.1, -0.9)
  line L65 (50.1, -0.9) -> (50.1, -1)
  line L66 (50.1, -1) -> (50.875, -1)
  arc A22 (50.875, -1) -> (51.2961, -2.6) centre (54.125, -1) ccw
  line L67 (51.2961, -2.6) -> (53.7039, -2.6)
  arc A23 (53.7039, -2.6) -> (54.125, -1) centre (50.875, -1) ccw
  line L68 (54.125, -1) -> (54.9, -1)
  line L69 (54.9, -1) -> (54.9, -0.9)
  line L70 (54.9, -0.9) -> (55.1, -0.9)
  line L71 (55.1, -0.9) -> (55.1, -1)
  line L72 (55.1, -1) -> (55.875, -1)
  arc A24 (55.875, -1) -> (56.2961, -2.6) centre (59.125, -1) ccw
  line L73 (56.2961, -2.6) -> (58.7039, -2.6)
  arc A25 (58.7039, -2.6) -> (59.125, -1) centre (55.875, -1) ccw
  line L74 (59.125, -1) -> (59.9, -1)
  line L75 (59.9, -1) -> (59.9, -0.9)
  line L76 (59.9, -0.9) -> (60.1, -0.9)
  line L77 (60.1, -0.9) -> (60.1, -1)
  line L78 (60.1, -1) -> (60.875, -1)
  arc A26 (60.875, -1) -> (61.2961, -2.6) centre (64.125, -1) ccw
  line L79 (61.2961, -2.6) -> (63.7039, -2.6)
  arc A27 (63.7039, -2.6) -> (64.125, -1) centre (60.875, -1) ccw
  line L80 (64.125, -1) -> (64.9, -1)
  line L81 (64.9, -1) -> (64.9, -0.9)
  line L82 (64.9, -0.9) -> (65.1, -0.9)
  line L83 (65.1, -0.9) -> (65.1, -1)
  line L84 (65.1, -1) -> (65.875, -1)
  arc A28 (65.875, -1) -> (66.2961, -2.6) centre (69.125, -1) ccw
  line L85 (66.2961, -2.6) -> (68.7039, -2.6)
  arc A29 (68.7039, -2.6) -> (69.125, -1) centre (65.875, -1) ccw
  line L86 (69.125, -1) -> (69.9, -1)
  line L87 (69.9, -1) -> (69.9, -0.9)
  line L88 (69.9, -0.9) -> (70.1, -0.9)
  line L89 (70.1, -0.9) -> (70.1, -1)
  line L90 (70.1, -1) -> (70.875, -1)
  arc A30 (70.875, -1) -> (71.2961, -2.6) centre (74.125, -1) ccw
  line L91 (71.2961, -2.6) -> (73.7039, -2.6)
  arc A31 (73.7039, -2.6) -> (74.125, -1) centre (70.875, -1) ccw
  line L92 (74.125, -1) -> (74.9, -1)
  line L93 (74.9, -1) -> (74.9, -0.9)
  line L94 (74.9, -0.9) -> (75.1, -0.9)
  line L95 (75.1, -0.9) -> (75.1, -1)
  line L96 (75.1, -1) -> (75.875, -1)
  arc A32 (75.875, -1) -> (76.2961, -2.6) centre (79.125, -1) ccw
  line L97 (76.2961, -2.6) -> (78.7039, -2.6)
  arc A33 (78.7039, -2.6) -> (79.125, -1) centre (75.875, -1) ccw
  line L98 (79.125, -1) -> (79.9, -1)
  line L99 (79.9, -1) -> (79.9, -0.9)
  line L100 (79.9, -0.9) -> (80.1, -0.9)
  line L101 (80.1, -0.9) -> (80.1, -1)
  line L102 (80.1, -1) -> (80.875, -1)
  arc A34 (80.875, -1) -> (81.2961, -2.6) centre (84.125, -1) ccw
  line L103 (81.2961, -2.6) -> (83.7039, -2.6)
  arc A35 (83.7039, -2.6) -> (84.125, -1) centre (80.875, -1) ccw
  line L104 (84.125, -1) -> (84.9, -1)
  line L105 (84.9, -1) -> (84.9, -0.9)
  line L106 (84.9, -0.9) -> (85.1, -0.9)
  line L107 (85.1, -0.9) -> (85.1, -1)
  line L108 (85.1, -1) -> (85.875, -1)
  arc A36 (85.875, -1) -> (86.2961, -2.6) centre (89.125, -1) ccw
  line L109 (86.2961, -2.6) -> (88.7039, -2.6)
  arc A37 (88.7039, -2.6) -> (89.125, -1) centre (85.875, -1) ccw
  line L110 (89.125, -1) -> (89.9, -1)
  line L111 (89.9, -1) -> (89.9, -0.9)
  line L112 (89.9, -0.9) -> (90.1, -0.9)
  line L113 (90.1, -0.9) -> (90.1, -1)
  line L114 (90.1, -1) -> (90.875, -1)
  arc A38 (90.875, -1) -> (91.2961, -2.6) centre (94.125, -1) ccw
  line L115 (91.2961, -2.6) -> (93.7039, -2.6)
  arc A39 (93.7039, -2.6) -> (94.125, -1) centre (90.875, -1) ccw
  line L116 (94.125, -1) -> (95, -1)
  line L117 (95, -1) -> (95, 1)
  line L118 (95, 1) -> (-5, 1)
  line L119 (-5, 1) -> (-5, -1)
extrude "Extrusion1" add sketch "Sketch_1" along normal mid plane 15
properties part number "HTBOG-S5M150-366"
